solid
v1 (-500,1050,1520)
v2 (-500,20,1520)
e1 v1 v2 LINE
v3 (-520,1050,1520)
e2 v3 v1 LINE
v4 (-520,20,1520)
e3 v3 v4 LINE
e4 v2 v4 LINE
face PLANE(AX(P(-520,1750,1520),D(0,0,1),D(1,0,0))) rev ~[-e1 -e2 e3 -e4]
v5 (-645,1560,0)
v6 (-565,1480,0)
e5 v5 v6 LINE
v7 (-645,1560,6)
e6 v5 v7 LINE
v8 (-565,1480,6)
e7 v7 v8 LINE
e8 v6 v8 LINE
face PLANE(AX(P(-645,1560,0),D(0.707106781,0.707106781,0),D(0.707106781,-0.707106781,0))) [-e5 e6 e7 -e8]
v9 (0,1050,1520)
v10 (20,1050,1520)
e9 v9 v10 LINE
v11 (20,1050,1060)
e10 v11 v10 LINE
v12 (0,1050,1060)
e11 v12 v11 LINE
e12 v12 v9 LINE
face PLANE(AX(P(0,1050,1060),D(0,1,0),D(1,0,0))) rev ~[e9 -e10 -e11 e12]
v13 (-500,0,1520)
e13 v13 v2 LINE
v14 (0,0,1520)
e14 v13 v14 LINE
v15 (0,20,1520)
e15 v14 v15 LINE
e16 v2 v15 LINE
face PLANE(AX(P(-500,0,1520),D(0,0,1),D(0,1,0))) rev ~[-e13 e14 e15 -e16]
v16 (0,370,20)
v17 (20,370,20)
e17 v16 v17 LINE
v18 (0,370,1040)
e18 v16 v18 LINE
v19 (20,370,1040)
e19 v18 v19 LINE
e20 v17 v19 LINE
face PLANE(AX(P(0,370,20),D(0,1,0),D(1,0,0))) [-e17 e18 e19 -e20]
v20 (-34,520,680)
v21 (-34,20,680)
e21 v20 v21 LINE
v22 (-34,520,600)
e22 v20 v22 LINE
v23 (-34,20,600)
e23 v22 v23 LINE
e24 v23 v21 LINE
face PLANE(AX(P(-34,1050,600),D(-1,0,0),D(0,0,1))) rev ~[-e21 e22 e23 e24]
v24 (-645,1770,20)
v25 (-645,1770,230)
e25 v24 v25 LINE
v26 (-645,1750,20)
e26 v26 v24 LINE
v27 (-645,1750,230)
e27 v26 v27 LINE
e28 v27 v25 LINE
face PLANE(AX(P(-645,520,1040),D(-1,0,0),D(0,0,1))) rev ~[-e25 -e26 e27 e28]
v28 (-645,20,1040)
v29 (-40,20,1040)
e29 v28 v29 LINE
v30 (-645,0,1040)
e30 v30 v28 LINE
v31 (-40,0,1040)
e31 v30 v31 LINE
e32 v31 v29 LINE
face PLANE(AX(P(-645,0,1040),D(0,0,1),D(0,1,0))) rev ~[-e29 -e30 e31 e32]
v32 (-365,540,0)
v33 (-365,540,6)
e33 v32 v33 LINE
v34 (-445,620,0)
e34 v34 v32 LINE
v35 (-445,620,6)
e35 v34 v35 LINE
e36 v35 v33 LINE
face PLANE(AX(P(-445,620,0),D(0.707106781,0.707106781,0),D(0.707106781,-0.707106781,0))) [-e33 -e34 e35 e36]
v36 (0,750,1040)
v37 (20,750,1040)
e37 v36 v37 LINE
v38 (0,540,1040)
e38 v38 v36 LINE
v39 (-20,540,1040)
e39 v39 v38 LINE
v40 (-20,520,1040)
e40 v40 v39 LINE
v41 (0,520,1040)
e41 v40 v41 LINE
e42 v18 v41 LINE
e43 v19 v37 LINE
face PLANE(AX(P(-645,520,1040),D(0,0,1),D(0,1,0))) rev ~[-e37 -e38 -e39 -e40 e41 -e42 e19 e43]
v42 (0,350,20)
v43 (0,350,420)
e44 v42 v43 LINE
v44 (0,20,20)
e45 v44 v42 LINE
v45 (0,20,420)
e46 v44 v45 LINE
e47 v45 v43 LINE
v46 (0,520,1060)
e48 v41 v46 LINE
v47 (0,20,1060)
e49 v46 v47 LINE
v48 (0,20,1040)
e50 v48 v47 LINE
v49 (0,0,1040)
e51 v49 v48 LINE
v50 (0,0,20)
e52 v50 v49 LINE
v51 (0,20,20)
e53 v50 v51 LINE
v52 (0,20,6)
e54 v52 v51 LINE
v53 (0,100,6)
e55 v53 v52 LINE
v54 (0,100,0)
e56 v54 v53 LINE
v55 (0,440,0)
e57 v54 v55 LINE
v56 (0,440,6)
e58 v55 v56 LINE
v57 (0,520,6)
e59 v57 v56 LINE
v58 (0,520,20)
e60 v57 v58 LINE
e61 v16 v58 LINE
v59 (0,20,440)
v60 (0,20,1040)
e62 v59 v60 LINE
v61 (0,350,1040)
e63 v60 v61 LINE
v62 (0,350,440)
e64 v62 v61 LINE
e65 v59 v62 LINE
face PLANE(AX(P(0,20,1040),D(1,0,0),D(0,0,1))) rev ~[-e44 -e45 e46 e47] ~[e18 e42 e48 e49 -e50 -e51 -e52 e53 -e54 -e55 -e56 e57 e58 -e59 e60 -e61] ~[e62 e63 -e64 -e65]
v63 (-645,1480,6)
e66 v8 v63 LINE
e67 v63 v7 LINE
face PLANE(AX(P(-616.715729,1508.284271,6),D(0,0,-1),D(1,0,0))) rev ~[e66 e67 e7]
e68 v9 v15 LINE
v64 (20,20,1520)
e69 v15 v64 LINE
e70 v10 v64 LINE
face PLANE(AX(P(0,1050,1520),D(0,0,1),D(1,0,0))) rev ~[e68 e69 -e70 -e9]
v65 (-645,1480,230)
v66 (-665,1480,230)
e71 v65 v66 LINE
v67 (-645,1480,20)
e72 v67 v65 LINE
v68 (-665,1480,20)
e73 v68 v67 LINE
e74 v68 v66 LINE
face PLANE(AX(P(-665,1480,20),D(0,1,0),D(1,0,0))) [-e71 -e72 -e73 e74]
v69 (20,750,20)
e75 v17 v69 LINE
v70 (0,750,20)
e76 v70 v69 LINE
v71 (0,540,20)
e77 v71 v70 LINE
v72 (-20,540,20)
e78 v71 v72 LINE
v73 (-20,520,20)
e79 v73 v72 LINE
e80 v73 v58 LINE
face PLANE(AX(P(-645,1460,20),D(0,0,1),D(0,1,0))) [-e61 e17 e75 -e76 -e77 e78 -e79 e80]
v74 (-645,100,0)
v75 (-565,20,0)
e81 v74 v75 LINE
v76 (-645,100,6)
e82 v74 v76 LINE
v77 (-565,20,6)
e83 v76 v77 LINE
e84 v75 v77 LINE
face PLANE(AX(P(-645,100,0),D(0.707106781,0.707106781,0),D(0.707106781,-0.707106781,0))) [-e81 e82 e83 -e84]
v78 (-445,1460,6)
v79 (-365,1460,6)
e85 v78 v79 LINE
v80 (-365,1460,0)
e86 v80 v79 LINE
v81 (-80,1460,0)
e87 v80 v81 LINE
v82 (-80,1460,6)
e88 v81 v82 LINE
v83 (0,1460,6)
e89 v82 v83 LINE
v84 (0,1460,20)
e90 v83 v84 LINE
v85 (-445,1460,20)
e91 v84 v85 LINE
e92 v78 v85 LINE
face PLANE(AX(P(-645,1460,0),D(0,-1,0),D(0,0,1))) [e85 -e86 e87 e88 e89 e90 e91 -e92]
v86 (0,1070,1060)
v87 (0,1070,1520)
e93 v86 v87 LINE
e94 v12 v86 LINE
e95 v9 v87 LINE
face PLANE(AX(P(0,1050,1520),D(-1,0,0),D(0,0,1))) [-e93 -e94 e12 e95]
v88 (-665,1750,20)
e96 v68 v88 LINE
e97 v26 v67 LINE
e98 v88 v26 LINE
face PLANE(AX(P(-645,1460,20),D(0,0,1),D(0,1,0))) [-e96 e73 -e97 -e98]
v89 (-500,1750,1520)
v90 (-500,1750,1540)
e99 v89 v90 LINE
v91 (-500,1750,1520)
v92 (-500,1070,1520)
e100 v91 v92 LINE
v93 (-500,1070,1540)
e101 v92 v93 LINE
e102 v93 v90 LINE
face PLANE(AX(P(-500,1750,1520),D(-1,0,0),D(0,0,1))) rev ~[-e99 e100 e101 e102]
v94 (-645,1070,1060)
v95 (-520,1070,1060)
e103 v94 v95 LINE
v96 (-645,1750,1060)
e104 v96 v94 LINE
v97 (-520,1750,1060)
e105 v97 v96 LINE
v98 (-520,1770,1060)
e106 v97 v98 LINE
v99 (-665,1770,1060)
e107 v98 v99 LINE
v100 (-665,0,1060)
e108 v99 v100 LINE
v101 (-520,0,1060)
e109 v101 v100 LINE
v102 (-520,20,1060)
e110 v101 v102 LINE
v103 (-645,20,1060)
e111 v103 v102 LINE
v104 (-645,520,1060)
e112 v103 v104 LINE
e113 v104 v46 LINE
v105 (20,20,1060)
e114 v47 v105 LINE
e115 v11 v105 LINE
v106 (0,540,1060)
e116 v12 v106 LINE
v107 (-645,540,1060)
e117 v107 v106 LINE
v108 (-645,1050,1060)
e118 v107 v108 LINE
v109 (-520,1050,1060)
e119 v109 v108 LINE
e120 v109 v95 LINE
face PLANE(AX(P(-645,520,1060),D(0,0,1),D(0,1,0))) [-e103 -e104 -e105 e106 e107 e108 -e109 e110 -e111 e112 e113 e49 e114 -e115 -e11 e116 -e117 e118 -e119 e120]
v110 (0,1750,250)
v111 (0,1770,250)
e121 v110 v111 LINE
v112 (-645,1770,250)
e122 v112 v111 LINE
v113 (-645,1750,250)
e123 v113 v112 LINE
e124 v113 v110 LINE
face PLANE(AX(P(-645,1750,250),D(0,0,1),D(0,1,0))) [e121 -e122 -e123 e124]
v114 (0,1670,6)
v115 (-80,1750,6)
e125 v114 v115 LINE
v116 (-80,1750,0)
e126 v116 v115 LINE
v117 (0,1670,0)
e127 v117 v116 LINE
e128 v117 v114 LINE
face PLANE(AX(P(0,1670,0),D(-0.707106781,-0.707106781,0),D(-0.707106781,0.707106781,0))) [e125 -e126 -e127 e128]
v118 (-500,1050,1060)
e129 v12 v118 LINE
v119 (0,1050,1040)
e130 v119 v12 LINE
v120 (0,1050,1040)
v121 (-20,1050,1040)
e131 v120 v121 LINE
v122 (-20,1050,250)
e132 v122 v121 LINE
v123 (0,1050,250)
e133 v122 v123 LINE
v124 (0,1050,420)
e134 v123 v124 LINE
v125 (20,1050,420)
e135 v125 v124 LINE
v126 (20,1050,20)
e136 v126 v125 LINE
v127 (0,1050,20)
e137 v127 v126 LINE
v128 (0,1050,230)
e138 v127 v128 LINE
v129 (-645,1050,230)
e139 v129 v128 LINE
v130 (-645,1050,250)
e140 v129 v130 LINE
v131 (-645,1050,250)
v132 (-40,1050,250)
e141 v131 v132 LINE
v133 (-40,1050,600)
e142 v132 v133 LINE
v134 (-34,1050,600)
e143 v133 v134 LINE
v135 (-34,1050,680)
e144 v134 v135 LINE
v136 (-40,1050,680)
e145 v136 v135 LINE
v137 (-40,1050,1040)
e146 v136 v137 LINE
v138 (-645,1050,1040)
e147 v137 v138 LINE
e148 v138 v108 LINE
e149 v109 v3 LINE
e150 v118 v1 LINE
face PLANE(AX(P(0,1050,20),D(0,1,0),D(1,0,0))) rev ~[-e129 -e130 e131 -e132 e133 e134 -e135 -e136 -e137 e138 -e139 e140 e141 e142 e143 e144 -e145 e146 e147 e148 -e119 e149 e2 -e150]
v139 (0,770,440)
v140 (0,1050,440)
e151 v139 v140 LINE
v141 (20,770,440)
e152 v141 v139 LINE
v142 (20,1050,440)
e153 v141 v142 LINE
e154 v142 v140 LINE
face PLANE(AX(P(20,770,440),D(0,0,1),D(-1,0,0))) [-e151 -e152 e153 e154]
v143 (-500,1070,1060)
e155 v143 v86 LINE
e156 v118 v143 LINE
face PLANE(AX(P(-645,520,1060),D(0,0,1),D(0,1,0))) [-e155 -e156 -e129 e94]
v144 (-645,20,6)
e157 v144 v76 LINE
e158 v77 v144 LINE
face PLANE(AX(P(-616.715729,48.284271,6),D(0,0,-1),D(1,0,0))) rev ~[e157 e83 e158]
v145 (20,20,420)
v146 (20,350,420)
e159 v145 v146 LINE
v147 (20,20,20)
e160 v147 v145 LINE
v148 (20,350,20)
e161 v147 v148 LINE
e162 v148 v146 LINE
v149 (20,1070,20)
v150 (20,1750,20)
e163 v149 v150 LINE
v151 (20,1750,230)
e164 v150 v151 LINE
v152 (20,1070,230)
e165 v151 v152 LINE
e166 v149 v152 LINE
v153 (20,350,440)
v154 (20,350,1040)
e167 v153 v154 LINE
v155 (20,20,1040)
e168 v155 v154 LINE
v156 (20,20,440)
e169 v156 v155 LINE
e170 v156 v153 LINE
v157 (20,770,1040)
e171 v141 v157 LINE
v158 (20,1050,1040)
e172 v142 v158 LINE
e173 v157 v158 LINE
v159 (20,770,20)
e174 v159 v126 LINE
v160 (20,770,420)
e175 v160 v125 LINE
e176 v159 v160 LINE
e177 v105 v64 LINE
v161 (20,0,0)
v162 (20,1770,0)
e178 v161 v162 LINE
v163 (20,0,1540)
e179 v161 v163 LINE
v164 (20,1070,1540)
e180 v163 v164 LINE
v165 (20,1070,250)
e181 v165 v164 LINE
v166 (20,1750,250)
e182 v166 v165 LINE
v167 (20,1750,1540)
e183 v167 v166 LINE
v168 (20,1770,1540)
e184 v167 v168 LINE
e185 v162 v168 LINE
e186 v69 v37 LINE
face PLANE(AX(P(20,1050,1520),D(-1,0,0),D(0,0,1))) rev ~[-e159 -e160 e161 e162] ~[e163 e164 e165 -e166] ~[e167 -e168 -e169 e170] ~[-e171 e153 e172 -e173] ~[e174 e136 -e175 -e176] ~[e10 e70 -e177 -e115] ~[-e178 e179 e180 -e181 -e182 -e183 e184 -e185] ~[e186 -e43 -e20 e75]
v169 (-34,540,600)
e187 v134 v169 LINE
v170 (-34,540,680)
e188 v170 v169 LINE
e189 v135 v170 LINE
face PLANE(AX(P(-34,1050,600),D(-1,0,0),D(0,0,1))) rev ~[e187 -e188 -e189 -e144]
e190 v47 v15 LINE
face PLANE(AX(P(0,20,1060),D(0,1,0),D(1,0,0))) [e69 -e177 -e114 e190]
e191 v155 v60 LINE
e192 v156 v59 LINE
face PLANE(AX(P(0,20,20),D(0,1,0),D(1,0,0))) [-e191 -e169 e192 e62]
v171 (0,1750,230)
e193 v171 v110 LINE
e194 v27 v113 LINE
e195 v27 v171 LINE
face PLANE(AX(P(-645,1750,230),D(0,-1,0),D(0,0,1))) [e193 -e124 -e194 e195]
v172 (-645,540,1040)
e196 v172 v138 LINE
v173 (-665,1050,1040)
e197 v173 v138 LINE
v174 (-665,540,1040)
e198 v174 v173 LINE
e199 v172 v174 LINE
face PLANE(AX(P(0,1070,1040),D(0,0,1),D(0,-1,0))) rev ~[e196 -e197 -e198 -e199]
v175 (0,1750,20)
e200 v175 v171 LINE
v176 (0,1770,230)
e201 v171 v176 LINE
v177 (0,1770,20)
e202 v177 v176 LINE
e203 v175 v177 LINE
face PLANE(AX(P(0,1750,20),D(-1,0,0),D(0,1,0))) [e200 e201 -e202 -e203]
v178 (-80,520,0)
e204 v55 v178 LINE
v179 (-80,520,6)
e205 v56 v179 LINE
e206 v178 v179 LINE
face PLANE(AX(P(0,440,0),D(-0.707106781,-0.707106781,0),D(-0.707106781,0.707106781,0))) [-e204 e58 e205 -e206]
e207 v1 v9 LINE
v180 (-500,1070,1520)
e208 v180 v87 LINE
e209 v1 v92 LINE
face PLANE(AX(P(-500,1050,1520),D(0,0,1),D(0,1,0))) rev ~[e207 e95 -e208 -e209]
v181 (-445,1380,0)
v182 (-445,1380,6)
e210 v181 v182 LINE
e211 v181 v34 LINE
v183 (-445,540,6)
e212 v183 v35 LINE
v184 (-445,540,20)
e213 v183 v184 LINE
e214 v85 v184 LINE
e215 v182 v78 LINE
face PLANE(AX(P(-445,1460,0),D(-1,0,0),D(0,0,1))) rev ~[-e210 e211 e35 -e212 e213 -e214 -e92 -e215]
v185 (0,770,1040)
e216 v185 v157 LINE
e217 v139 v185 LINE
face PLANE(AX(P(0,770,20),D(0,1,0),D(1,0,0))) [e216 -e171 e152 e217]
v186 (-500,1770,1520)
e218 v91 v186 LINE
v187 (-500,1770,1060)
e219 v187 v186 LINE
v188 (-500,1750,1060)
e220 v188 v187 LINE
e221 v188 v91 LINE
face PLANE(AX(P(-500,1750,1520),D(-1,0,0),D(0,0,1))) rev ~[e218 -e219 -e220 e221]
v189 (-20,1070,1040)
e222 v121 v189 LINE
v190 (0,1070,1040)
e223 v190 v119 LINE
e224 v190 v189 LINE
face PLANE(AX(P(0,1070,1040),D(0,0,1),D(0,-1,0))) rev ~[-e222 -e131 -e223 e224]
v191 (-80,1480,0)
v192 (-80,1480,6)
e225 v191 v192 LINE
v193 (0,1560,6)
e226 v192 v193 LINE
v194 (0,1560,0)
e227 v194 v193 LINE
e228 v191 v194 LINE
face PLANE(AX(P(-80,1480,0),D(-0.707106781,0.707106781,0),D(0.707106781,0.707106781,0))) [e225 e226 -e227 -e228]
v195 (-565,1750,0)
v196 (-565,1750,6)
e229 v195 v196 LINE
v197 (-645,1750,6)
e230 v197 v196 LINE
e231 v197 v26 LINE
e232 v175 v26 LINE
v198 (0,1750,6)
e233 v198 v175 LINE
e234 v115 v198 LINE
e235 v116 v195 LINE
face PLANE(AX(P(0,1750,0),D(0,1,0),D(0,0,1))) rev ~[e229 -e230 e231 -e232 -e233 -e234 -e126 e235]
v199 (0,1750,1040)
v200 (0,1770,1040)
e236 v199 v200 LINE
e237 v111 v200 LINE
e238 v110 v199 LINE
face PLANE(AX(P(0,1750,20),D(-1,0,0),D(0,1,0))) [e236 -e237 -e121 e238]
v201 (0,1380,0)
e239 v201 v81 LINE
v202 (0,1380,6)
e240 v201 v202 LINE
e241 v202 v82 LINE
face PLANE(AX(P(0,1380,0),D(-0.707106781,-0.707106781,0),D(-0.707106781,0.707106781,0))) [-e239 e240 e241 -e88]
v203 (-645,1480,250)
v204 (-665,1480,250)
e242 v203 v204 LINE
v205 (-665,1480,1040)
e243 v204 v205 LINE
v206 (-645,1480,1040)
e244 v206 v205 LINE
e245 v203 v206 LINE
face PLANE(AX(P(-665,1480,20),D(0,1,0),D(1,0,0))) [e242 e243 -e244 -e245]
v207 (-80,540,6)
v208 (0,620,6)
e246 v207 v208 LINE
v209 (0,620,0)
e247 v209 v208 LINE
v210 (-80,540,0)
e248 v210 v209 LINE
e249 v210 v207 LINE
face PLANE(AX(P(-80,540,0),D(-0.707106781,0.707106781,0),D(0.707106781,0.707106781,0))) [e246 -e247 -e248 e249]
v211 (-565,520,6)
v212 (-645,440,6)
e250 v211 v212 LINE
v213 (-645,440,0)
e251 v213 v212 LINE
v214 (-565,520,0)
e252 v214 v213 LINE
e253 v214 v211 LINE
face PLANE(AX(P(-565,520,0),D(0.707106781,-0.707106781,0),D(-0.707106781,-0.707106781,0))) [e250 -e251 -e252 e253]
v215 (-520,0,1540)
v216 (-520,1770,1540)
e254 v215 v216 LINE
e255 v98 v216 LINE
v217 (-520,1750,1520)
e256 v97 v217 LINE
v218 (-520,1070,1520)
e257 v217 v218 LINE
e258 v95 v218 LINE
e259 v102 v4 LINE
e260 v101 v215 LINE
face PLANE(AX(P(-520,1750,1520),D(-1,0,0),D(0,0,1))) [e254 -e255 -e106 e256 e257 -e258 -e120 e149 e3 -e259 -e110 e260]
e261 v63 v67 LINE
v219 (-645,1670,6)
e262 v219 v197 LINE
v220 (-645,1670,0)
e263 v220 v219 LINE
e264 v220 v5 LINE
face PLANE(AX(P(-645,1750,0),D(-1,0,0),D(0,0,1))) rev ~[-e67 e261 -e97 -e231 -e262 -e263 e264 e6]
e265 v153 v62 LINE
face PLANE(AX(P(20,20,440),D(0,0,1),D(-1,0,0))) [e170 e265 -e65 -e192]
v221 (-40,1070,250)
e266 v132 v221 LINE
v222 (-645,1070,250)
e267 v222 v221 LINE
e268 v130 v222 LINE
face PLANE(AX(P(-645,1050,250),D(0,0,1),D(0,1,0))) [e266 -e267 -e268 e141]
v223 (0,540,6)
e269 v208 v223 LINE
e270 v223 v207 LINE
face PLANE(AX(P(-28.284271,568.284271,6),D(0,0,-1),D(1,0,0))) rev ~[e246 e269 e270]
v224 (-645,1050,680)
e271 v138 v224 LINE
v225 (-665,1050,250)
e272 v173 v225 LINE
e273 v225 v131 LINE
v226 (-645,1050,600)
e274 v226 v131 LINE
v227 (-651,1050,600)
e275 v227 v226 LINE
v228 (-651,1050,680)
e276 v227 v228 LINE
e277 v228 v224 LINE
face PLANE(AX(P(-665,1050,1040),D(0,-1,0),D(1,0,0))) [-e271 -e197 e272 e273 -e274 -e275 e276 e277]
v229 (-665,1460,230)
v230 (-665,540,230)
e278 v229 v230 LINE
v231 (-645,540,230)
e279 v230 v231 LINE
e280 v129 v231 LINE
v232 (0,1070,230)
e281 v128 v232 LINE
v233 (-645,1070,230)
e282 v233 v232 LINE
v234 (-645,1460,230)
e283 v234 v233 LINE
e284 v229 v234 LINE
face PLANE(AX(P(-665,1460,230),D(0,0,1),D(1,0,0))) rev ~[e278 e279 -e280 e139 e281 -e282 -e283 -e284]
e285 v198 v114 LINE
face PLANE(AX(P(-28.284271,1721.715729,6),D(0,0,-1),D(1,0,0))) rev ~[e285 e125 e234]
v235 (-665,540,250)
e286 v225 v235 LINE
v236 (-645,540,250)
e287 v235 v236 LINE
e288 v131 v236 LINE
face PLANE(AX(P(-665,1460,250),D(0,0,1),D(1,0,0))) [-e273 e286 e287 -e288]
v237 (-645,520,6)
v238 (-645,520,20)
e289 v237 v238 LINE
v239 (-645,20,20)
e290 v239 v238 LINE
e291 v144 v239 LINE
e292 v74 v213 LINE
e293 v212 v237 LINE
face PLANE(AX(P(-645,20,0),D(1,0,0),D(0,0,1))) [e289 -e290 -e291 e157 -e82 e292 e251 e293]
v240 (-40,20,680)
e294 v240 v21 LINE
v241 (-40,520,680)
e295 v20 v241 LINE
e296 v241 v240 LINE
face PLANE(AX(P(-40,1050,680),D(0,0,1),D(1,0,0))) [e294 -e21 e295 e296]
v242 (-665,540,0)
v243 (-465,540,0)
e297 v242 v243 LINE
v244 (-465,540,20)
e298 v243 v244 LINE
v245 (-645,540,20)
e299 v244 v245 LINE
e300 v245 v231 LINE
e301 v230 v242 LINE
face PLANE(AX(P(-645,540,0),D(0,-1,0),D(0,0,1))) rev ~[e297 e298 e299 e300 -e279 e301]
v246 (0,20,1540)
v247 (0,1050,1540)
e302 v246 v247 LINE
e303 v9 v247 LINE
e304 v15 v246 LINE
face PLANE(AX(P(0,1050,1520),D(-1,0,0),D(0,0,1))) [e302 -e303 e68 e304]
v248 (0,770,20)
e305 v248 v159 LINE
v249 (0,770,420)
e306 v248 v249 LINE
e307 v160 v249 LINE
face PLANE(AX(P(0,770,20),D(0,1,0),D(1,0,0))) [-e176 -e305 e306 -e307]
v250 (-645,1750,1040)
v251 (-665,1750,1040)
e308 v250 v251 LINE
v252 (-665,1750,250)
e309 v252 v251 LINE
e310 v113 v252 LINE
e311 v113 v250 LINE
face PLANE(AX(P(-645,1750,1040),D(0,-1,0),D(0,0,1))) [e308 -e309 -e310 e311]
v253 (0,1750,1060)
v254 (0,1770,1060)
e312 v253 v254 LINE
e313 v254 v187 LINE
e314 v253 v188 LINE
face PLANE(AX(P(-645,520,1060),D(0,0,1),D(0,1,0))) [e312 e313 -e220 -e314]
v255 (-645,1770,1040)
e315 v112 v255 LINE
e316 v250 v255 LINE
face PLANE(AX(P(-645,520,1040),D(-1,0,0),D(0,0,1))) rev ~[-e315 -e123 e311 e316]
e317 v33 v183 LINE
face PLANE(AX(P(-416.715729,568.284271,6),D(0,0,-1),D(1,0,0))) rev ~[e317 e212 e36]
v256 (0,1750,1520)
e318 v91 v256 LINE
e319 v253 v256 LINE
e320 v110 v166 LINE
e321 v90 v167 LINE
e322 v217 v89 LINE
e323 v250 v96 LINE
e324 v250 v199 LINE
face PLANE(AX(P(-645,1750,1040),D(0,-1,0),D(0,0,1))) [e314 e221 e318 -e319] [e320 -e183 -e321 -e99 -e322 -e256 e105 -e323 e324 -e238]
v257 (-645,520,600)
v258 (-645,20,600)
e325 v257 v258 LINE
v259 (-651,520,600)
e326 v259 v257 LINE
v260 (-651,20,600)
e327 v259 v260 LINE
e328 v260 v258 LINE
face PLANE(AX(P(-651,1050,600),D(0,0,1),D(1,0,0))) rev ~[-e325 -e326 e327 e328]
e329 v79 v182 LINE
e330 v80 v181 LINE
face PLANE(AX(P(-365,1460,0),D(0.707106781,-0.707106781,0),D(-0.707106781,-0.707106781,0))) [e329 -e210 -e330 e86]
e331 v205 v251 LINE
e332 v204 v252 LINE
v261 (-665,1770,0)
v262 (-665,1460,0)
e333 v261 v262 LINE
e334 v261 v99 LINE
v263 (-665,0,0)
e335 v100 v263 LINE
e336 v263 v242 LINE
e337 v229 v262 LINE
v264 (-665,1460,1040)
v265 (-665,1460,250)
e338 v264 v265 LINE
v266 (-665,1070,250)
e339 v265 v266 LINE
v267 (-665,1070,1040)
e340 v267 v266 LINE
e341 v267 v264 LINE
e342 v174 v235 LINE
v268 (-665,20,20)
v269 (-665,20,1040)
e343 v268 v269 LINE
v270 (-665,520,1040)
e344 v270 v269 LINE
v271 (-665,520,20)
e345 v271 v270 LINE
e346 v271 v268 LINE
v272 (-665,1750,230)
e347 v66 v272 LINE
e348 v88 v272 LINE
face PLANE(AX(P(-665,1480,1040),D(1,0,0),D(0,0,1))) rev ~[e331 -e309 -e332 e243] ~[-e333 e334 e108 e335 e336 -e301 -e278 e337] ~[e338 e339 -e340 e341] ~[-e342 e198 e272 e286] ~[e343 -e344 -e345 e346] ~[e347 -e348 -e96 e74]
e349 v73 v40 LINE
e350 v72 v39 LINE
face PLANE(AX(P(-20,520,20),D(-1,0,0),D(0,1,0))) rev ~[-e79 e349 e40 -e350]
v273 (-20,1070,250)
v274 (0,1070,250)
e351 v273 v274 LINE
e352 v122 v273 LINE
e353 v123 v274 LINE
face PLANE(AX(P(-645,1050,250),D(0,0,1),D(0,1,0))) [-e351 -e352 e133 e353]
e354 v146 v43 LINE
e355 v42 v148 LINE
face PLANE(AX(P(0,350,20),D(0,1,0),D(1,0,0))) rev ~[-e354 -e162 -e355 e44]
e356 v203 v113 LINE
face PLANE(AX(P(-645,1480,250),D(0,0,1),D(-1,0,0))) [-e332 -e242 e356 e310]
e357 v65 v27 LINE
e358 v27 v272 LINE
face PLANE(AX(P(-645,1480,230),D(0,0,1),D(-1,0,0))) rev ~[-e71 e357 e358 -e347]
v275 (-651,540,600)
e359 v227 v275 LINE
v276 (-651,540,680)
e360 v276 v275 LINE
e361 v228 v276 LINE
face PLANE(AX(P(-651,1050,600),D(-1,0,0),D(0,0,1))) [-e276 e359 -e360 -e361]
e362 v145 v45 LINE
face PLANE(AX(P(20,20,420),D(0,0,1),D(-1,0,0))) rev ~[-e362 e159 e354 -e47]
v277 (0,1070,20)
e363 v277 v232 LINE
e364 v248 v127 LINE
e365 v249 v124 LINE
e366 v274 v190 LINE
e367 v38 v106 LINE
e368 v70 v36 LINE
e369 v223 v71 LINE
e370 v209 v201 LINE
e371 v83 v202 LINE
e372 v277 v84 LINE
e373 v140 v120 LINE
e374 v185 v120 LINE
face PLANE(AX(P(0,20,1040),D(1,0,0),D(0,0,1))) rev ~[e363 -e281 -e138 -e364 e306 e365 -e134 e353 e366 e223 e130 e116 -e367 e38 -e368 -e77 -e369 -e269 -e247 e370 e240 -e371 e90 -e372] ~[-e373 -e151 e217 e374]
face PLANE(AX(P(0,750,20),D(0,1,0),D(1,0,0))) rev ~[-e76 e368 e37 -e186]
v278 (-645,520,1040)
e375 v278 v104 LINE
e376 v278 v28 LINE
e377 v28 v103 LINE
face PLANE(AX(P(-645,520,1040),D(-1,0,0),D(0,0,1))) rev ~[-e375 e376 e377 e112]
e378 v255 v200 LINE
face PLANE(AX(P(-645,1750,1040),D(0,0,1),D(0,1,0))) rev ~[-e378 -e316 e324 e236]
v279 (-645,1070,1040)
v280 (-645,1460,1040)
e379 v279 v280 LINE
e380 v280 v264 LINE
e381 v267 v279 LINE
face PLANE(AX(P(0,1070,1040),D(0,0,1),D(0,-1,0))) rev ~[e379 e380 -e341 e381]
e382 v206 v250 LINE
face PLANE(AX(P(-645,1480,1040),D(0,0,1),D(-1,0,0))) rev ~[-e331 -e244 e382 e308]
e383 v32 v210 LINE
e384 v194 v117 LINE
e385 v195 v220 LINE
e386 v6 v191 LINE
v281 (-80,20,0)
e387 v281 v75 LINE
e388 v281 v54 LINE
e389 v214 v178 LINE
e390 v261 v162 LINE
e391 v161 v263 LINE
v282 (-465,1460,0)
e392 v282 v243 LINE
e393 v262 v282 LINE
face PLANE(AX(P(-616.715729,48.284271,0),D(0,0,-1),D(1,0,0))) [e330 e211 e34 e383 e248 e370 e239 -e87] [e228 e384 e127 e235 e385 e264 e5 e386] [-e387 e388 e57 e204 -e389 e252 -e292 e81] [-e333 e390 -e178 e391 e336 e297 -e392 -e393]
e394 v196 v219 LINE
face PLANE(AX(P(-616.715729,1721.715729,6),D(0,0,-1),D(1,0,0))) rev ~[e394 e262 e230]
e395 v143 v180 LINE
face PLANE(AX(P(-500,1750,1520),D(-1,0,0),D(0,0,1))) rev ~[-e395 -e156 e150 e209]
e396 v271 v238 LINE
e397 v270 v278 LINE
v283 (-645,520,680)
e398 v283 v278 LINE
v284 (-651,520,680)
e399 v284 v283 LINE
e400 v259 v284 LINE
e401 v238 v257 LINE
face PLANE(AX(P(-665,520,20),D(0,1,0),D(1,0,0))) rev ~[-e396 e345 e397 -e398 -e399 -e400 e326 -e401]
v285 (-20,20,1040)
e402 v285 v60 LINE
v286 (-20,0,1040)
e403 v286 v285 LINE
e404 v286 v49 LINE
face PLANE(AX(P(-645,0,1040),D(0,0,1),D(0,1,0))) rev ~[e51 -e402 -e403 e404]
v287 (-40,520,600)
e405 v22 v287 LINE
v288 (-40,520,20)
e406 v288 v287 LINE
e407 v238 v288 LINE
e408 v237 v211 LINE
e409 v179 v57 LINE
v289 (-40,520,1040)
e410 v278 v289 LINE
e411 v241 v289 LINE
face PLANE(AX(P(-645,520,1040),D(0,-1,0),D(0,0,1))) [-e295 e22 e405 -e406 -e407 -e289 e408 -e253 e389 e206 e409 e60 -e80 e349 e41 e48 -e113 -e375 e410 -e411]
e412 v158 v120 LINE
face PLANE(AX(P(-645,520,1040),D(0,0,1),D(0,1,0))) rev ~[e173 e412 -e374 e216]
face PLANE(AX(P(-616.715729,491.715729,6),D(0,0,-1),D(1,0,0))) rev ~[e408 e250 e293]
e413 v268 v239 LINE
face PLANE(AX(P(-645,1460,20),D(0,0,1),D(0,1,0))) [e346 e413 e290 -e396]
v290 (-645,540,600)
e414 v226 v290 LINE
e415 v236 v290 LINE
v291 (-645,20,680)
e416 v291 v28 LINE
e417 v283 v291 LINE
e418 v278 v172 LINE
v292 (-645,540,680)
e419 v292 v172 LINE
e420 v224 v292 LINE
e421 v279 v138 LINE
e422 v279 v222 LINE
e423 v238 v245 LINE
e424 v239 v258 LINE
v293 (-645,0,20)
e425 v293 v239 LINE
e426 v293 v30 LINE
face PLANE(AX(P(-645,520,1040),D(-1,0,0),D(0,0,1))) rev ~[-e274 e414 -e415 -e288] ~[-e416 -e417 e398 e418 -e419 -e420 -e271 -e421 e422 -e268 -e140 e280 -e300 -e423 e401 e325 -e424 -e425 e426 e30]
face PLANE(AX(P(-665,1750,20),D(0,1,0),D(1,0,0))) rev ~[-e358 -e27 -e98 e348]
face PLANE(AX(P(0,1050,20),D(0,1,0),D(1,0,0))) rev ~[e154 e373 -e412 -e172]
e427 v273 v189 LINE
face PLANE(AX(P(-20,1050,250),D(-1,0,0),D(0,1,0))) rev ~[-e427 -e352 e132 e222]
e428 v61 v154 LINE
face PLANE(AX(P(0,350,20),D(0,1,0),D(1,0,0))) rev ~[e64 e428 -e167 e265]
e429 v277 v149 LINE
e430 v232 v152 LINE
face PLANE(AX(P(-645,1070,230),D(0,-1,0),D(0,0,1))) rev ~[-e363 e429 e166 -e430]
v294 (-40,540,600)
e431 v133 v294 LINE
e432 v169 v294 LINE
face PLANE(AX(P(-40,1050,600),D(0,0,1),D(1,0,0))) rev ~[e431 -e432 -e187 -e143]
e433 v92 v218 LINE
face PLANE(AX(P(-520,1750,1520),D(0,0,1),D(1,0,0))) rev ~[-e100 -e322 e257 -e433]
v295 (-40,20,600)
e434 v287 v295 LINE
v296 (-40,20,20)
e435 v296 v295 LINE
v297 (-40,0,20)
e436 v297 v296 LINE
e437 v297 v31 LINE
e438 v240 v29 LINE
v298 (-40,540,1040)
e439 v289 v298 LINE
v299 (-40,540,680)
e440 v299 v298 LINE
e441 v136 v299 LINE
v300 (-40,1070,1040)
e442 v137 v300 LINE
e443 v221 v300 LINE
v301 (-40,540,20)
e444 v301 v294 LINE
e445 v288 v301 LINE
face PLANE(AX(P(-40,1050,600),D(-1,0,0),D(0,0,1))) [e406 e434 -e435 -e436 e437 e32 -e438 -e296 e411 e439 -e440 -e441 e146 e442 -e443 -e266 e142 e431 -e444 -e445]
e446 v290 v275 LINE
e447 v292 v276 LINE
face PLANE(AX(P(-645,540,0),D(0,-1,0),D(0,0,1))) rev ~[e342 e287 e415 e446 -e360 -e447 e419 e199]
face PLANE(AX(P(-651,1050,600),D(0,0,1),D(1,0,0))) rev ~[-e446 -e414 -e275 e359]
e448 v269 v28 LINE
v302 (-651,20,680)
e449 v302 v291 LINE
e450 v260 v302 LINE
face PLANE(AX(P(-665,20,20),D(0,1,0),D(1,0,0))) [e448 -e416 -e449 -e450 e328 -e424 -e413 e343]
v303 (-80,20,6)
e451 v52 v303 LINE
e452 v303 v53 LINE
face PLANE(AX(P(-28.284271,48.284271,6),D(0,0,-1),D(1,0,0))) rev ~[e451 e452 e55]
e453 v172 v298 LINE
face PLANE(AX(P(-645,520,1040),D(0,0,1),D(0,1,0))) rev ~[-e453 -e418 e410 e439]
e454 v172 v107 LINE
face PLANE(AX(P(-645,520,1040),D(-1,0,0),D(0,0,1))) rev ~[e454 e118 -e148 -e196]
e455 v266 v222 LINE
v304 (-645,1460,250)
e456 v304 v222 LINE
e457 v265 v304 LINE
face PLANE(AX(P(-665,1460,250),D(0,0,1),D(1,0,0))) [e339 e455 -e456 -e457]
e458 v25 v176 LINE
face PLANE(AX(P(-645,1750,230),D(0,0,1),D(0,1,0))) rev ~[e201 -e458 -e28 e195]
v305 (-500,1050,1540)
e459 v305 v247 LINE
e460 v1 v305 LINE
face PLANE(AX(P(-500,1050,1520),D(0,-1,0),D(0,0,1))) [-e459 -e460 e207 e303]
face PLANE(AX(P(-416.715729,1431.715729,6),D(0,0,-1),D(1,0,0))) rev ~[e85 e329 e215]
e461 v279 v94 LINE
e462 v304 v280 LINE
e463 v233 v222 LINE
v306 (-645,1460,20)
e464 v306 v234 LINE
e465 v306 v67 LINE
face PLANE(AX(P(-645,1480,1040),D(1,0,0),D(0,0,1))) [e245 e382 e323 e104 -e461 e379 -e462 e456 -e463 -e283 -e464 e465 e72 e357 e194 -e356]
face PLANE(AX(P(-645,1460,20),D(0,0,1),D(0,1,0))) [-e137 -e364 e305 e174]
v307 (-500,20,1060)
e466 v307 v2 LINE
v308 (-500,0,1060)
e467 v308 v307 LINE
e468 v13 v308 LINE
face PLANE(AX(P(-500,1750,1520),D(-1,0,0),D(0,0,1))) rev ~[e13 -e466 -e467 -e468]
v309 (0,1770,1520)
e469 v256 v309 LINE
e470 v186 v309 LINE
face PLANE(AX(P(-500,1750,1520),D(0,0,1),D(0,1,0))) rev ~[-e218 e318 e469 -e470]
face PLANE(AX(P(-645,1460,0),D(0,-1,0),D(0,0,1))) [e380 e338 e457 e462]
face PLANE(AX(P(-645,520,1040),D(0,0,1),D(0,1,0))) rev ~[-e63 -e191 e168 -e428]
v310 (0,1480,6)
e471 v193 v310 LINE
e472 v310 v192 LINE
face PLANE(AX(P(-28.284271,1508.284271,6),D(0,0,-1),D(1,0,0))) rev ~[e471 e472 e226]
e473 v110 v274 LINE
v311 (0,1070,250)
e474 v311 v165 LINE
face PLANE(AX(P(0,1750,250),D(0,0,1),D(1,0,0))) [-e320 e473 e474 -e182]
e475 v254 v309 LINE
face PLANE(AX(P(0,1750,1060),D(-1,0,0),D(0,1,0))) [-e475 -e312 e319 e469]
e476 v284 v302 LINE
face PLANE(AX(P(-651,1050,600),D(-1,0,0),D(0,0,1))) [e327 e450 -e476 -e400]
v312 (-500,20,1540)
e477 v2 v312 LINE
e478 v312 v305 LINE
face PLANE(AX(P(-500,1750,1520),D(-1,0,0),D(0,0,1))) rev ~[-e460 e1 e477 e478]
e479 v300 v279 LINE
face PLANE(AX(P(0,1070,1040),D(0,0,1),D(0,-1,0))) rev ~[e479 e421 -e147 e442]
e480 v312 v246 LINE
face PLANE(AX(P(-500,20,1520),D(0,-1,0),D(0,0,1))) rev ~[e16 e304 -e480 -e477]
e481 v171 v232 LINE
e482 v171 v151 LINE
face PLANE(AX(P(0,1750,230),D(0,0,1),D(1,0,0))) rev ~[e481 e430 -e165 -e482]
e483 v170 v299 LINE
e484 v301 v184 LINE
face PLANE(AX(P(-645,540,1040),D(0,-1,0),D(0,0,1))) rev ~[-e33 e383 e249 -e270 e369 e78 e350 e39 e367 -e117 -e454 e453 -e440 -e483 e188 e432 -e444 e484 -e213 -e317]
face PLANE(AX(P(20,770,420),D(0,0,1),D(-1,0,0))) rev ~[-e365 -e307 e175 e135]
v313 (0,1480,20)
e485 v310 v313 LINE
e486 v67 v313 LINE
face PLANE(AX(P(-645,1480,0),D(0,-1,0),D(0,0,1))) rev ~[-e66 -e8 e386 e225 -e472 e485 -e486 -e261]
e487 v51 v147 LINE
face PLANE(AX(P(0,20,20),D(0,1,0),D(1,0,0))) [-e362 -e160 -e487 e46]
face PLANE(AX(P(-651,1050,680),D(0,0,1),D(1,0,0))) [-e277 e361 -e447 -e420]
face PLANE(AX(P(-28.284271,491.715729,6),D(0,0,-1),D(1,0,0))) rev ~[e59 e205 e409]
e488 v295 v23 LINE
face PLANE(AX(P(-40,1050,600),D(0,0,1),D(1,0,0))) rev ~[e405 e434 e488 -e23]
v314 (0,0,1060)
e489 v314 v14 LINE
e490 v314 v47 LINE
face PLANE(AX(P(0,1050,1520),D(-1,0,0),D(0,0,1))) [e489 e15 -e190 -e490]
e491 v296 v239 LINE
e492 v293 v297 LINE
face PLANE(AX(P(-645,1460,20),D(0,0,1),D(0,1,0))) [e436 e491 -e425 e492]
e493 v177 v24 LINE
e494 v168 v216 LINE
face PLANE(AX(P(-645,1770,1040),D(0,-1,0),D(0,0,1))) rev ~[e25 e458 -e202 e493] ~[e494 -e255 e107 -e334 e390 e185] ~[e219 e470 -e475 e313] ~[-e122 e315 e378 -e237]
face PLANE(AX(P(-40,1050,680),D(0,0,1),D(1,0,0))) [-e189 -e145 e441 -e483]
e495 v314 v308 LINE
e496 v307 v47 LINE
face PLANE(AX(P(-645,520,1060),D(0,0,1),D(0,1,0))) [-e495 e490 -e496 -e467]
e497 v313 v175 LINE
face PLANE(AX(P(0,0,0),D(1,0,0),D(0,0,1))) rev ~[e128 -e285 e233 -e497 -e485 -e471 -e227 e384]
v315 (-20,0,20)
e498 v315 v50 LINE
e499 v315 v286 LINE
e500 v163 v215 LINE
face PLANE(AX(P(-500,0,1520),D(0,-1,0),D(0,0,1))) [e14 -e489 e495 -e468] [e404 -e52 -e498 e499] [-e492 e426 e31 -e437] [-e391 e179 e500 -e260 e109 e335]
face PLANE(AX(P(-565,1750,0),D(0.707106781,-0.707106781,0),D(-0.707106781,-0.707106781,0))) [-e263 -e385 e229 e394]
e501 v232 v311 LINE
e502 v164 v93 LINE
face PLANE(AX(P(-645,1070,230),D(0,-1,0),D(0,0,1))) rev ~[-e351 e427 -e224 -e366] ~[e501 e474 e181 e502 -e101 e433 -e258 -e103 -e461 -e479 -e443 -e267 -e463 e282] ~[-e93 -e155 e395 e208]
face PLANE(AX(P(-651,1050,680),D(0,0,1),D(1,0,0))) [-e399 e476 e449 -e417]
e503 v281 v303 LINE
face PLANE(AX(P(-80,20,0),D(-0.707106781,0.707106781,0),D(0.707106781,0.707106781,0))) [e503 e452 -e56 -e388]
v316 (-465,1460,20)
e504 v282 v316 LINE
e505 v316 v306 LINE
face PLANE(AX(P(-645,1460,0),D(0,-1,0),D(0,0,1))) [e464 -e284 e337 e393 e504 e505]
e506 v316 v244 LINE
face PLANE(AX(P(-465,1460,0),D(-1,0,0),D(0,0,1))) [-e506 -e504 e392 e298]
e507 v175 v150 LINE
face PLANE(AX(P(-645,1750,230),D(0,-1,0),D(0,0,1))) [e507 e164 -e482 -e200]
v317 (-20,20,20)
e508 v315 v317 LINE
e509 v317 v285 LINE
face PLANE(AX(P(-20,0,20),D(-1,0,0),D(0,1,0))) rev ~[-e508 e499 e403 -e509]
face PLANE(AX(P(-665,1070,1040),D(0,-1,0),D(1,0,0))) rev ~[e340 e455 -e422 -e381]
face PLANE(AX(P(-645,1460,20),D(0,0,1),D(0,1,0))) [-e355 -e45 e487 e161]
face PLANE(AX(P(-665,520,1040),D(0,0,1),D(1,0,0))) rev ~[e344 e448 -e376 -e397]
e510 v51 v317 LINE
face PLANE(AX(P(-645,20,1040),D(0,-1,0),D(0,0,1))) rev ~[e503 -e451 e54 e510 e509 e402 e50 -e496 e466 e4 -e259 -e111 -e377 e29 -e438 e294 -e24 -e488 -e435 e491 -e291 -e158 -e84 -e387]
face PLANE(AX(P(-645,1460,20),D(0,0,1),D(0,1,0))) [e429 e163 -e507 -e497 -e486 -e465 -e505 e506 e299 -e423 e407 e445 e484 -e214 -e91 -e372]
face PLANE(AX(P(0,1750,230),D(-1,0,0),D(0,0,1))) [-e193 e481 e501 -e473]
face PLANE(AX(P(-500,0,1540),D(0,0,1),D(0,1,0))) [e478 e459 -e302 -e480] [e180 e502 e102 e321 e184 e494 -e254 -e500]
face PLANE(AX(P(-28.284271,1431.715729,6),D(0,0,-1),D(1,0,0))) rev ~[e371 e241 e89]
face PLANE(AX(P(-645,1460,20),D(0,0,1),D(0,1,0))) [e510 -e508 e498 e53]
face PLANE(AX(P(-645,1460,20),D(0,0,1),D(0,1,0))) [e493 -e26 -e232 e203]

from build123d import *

# Parameters (mm, degrees)
F0_W      = 20
F0_H      = 20
F1_DEPTH  = 1770
F2_W      = 20
F2_H      = 20
F3_DEPTH  = 665
F4_W      = 20
F4_H      = 20
F5_DEPTH  = 520
F6_W      = 20
F6_H      = 20
F7_DEPTH  = 290
F8_W      = 20
F8_H      = 20
F9_DEPTH  = 645
F10_W     = 20
F10_H     = 20
F11_DEPTH = 645
F12_W     = 20
F12_H     = 20
F13_DEPTH = 920
F14_W     = 20
F14_H     = 20
F15_DEPTH = 1040
F16_W     = 20
F16_H     = 20
F17_DEPTH = 920
F18_W     = 20
F18_H     = 20
F19_DEPTH = 1030
F20_W     = 20
F20_H     = 20
F21_DEPTH = 920
F22_W     = 20
F22_H     = 20
F23_DEPTH = 645
F24_W     = 20
F24_H     = 20
F25_DEPTH = 790
F26_W     = 20
F26_H     = 20
F27_DEPTH = 500
F28_W     = 20
F28_H     = 20
F29_DEPTH = 645
F30_W     = 20
F30_H     = 20
F31_DEPTH = 270
F32_W     = 20
F32_H     = 20
F33_DEPTH = 645
F34_W     = 20
F34_H     = 20
F35_DEPTH = 680
F36_W     = 20
F36_H     = 20
F37_DEPTH = 645
F38_W     = 20
F38_H     = 20
F39_DEPTH = 270
F40_W     = 20
F40_H     = 20
F41_DEPTH = 1020
F43_W     = 20
F43_H     = 20
F44_DEPTH = 645
F42_W     = 20
F42_H     = 20
F45_DEPTH = 1020
F46_W     = 20
F46_H     = 20
F47_DEPTH = 790
F48_W     = 6
F48_H     = 80
F49_DEPTH = 1030
F50_W     = 6
F50_H     = 80
F51_DEPTH = 1030
F52_W     = 20
F52_H     = 20
F53_DEPTH = 480
F54_W     = 20
F54_H     = 20
F55_DEPTH = 1750
F56_W     = 20
F56_H     = 20
F57_DEPTH = 1030
F58_W     = 20
F58_H     = 20
F59_DEPTH = 500
F61_DEPTH = 6
F62_W     = 20
F62_H     = 20
F63_DEPTH = 1020
F64_W     = 20
F64_H     = 20
F65_DEPTH = 280
F66_W     = 20
F66_H     = 20
F67_DEPTH = 330


with BuildPart() as f1:
    # F0 (on Front) → F1 (new body)
    with BuildSketch(Plane.XZ):
        with Locations((10, 10)):
            Rectangle(F0_W, F0_H)
    extrude(amount=-F1_DEPTH)

    # F2 (on face) → F3 (join)
    with BuildSketch(Plane(origin=(0, 0, 0), x_dir=(0, -1, 0), z_dir=(-1, 0, 0))):
        with Locations((-10, 10)):
            Rectangle(F2_W, F2_H)
        with Locations((-1760, 10)):
            Rectangle(F2_W, F2_H)
    extrude(amount=F3_DEPTH)

    # F4 (on face) → F5 (join)
    with BuildSketch(Plane(origin=(0, 20, 0), x_dir=(-1, 0, 0), z_dir=(0, 1, 0))):
        with Locations((655, 10)):
            Rectangle(F4_W, F4_H)
    extrude(amount=F5_DEPTH)

    # F6 (on face) → F7 (join)
    with BuildSketch(Plane.XZ.offset(-1750)):
        with Locations((-655, 10)):
            Rectangle(F6_W, F6_H)
    extrude(amount=F7_DEPTH)

    # F8 (on face) → F9 (join, through all)
    with BuildSketch(Plane.YZ.offset(-645)):
        with Locations((530, 10)):
            Rectangle(F8_W, F8_H)
    extrude(amount=F9_DEPTH)

    # F10 (on face) → F11 (join, through all)
    with BuildSketch(Plane.YZ.offset(-645)):
        with Locations((1470, 10)):
            Rectangle(F10_W, F10_H)
    extrude(amount=F11_DEPTH)

    # F12 (on face) → F13 (join, through all)
    with BuildSketch(Plane.XZ.offset(-1460)):
        with Locations((-455, 10)):
            Rectangle(F12_W, F12_H)
    extrude(amount=F13_DEPTH)

    # F14 (on face) → F15 (join)
    with BuildSketch(Plane.XY.offset(20)):
        with Locations((10, 10)):
            Rectangle(F14_W, F14_H)
        with Locations((-655, 10)):
            Rectangle(F14_W, F14_H)
        with Locations((-655, 530)):
            Rectangle(F14_W, F14_H)
        with Locations((10, 1760)):
            Rectangle(F14_W, F14_H)
        with Locations((-655, 1470)):
            Rectangle(F14_W, F14_H)
        with Locations((-655, 1760)):
            Rectangle(F14_W, F14_H)
        with Locations((10, 1060)):
            Rectangle(F14_W, F14_H)
    extrude(amount=F15_DEPTH)

    # F16 (on face) → F17 (join, through all)
    with BuildSketch(Plane.XZ.offset(-1460)):
        with Locations((-655, 240)):
            Rectangle(F16_W, F16_H)
    extrude(amount=F17_DEPTH)

    # F18 (on face) → F19 (join, through all)
    with BuildSketch(Plane(origin=(0, 20, 0), x_dir=(-1, 0, 0), z_dir=(0, 1, 0))):
        with Locations((-10, 1050)):
            Rectangle(F18_W, F18_H)
    extrude(amount=F19_DEPTH)

    # F20 (on face) → F21 (join, through all)
    with BuildSketch(Plane(origin=(0, 540, 0), x_dir=(-1, 0, 0), z_dir=(0, 1, 0))):
        with Locations((655, 1050)):
            Rectangle(F20_W, F20_H)
    extrude(amount=F21_DEPTH)

    # F22 (on face) → F23 (join, through all)
    with BuildSketch(Plane(origin=(0, 0, 0), x_dir=(0, -1, 0), z_dir=(-1, 0, 0))):
        with Locations((-1060, 1050)):
            Rectangle(F22_W, F22_H)
    extrude(amount=F23_DEPTH)

    # F24 (on face) → F25 (join, through all)
    with BuildSketch(Plane(origin=(0, 0, 1040), x_dir=(1, 0, 0), z_dir=(0, 0, -1))):
        with Locations((-655, -1060)):
            Rectangle(F24_W, F24_H)
    extrude(amount=F25_DEPTH)

    # F26 (on face) → F27 (join, through all)
    with BuildSketch(Plane.XZ.offset(-520)):
        with Locations((-655, 1050)):
            Rectangle(F26_W, F26_H)
    extrude(amount=F27_DEPTH)

    # F28 (on face) → F29 (join, through all)
    with BuildSketch(Plane.YZ.offset(-645)):
        with Locations((10, 1050)):
            Rectangle(F28_W, F28_H)
    extrude(amount=F29_DEPTH)

    # F30 (on face) → F31 (join, through all)
    with BuildSketch(Plane(origin=(0, 1480, 0), x_dir=(-1, 0, 0), z_dir=(0, 1, 0))):
        with Locations((655, 240)):
            Rectangle(F30_W, F30_H)
    extrude(amount=F31_DEPTH)

    # F32 (on face) → F33 (join, through all)
    with BuildSketch(Plane.YZ.offset(-645)):
        with Locations((1760, 240)):
            Rectangle(F32_W, F32_H)
        with Locations((1060, 240)):
            Rectangle(F32_W, F32_H)
    extrude(amount=F33_DEPTH)

    # F34 (on face) → F35 (join, through all)
    with BuildSketch(Plane.XZ.offset(-1750)):
        with Locations((10, 240)):
            Rectangle(F34_W, F34_H)
    extrude(amount=F35_DEPTH)

    # F36 (on face) → F37 (join, through all)
    with BuildSketch(Plane.YZ.offset(-645)):
        with Locations((1760, 1050)):
            Rectangle(F36_W, F36_H)
    extrude(amount=F37_DEPTH)

    # F38 (on face) → F39 (join, through all)
    with BuildSketch(Plane(origin=(0, 1480, 0), x_dir=(-1, 0, 0), z_dir=(0, 1, 0))):
        with Locations((655, 1050)):
            Rectangle(F38_W, F38_H)
    extrude(amount=F39_DEPTH)

    # F40 (on face) → F41 (join, through all)
    with BuildSketch(Plane.XY.offset(20)):
        with Locations((-30, 10)):
            Rectangle(F40_W, F40_H)
    extrude(amount=F41_DEPTH)

    # F43 (on face) → F44 (join, through all)
    with BuildSketch(Plane.YZ.offset(-645)):
        with Locations((530, 1050)):
            Rectangle(F43_W, F43_H)
    extrude(amount=F44_DEPTH)

    # F42 (on face) → F45 (join, through all)
    with BuildSketch(Plane.XY.offset(20)):
        with Locations((-30, 530)):
            Rectangle(F42_W, F42_H)
    extrude(amount=F45_DEPTH)

    # F46 (on face) → F47 (join, through all)
    with BuildSketch(Plane.XY.offset(250)):
        with Locations((-30, 1060)):
            Rectangle(F46_W, F46_H)
    extrude(amount=F47_DEPTH)

    # F48 (on face) → F49 (join, through all)
    with BuildSketch(Plane.XZ.offset(-1050)):
        with Locations((-648, 640)):
            Rectangle(F48_W, F48_H)
    extrude(amount=F49_DEPTH)

    # F50 (on face) → F51 (join, through all)
    with BuildSketch(Plane.XZ.offset(-1050)):
        with Locations((-37, 640)):
            Rectangle(F50_W, F50_H)
    extrude(amount=F51_DEPTH)

    # F52 (on face) → F53 (join)
    with BuildSketch(Plane.XY.offset(1060)):
        with Locations((10, 10)):
            Rectangle(F52_W, F52_H)
        with Locations((10, 1060)):
            Rectangle(F52_W, F52_H)
        with Locations((10, 1760)):
            Rectangle(F52_W, F52_H)
        with Locations((-510, 10)):
            Rectangle(F52_W, F52_H)
        with Locations((-510, 1060)):
            Rectangle(F52_W, F52_H)
        with Locations((-510, 1760)):
            Rectangle(F52_W, F52_H)
    extrude(amount=F53_DEPTH)

    # F54 (on face) → F55 (join, through all)
    with BuildSketch(Plane.XZ.offset(-1750)):
        with Locations((-510, 1530)):
            Rectangle(F54_W, F54_H)
    extrude(amount=F55_DEPTH)

    # F56 (on face) → F57 (join, through all)
    with BuildSketch(Plane.XZ.offset(-1050)):
        with Locations((10, 1530)):
            Rectangle(F56_W, F56_H)
    extrude(amount=F57_DEPTH)

    # F58 (on face) → F59 (join, through all)
    with BuildSketch(Plane.YZ.offset(-500)):
        with Locations((10, 1530)):
            Rectangle(F58_W, F58_H)
        with Locations((1060, 1530)):
            Rectangle(F58_W, F58_H)
        with Locations((1760, 1530)):
            Rectangle(F58_W, F58_H)
    extrude(amount=F59_DEPTH)

    # F60 (on face) → F61 (join)
    with BuildSketch(Plane(origin=(0, 0, 0), x_dir=(1, 0, 0), z_dir=(0, 0, -1))):
        Polygon((-645, -100), (-565, -20), (-645, -20), align=None)
        Polygon((0, -100), (0, -20), (-80, -20), align=None)
        Polygon((-645, -440), (-645, -520), (-565, -520), align=None)
        Polygon((0, -520), (0, -440), (-80, -520), align=None)
        Polygon((0, -540), (-80, -540), (0, -620), align=None)
        Polygon((-445, -620), (-365, -540), (-445, -540), align=None)
        Polygon((-80, -1460), (0, -1460), (0, -1380), align=None)
        Polygon((-445, -1380), (-445, -1460), (-365, -1460), align=None)
        Polygon((0, -1560), (0, -1480), (-80, -1480), align=None)
        Polygon((-80, -1750), (0, -1750), (0, -1670), align=None)
        Polygon((-645, -1670), (-645, -1750), (-565, -1750), align=None)
        Polygon((-645, -1480), (-645, -1560), (-565, -1480), align=None)
    extrude(amount=-F61_DEPTH)

    # F62 (on face) → F63 (join, through all)
    with BuildSketch(Plane.XY.offset(20)):
        with Locations((10, 360)):
            Rectangle(F62_W, F62_H)
        with Locations((10, 760)):
            Rectangle(F62_W, F62_H)
    extrude(amount=F63_DEPTH)

    # F64 (on face) → F65 (join, through all)
    with BuildSketch(Plane(origin=(0, 770, 0), x_dir=(-1, 0, 0), z_dir=(0, 1, 0))):
        with Locations((-10, 430)):
            Rectangle(F64_W, F64_H)
    extrude(amount=F65_DEPTH)

    # F66 (on face) → F67 (join, through all)
    with BuildSketch(Plane(origin=(0, 20, 0), x_dir=(-1, 0, 0), z_dir=(0, 1, 0))):
        with Locations((-10, 430)):
            Rectangle(F66_W, F66_H)
    extrude(amount=F67_DEPTH)


solid = f1.part
